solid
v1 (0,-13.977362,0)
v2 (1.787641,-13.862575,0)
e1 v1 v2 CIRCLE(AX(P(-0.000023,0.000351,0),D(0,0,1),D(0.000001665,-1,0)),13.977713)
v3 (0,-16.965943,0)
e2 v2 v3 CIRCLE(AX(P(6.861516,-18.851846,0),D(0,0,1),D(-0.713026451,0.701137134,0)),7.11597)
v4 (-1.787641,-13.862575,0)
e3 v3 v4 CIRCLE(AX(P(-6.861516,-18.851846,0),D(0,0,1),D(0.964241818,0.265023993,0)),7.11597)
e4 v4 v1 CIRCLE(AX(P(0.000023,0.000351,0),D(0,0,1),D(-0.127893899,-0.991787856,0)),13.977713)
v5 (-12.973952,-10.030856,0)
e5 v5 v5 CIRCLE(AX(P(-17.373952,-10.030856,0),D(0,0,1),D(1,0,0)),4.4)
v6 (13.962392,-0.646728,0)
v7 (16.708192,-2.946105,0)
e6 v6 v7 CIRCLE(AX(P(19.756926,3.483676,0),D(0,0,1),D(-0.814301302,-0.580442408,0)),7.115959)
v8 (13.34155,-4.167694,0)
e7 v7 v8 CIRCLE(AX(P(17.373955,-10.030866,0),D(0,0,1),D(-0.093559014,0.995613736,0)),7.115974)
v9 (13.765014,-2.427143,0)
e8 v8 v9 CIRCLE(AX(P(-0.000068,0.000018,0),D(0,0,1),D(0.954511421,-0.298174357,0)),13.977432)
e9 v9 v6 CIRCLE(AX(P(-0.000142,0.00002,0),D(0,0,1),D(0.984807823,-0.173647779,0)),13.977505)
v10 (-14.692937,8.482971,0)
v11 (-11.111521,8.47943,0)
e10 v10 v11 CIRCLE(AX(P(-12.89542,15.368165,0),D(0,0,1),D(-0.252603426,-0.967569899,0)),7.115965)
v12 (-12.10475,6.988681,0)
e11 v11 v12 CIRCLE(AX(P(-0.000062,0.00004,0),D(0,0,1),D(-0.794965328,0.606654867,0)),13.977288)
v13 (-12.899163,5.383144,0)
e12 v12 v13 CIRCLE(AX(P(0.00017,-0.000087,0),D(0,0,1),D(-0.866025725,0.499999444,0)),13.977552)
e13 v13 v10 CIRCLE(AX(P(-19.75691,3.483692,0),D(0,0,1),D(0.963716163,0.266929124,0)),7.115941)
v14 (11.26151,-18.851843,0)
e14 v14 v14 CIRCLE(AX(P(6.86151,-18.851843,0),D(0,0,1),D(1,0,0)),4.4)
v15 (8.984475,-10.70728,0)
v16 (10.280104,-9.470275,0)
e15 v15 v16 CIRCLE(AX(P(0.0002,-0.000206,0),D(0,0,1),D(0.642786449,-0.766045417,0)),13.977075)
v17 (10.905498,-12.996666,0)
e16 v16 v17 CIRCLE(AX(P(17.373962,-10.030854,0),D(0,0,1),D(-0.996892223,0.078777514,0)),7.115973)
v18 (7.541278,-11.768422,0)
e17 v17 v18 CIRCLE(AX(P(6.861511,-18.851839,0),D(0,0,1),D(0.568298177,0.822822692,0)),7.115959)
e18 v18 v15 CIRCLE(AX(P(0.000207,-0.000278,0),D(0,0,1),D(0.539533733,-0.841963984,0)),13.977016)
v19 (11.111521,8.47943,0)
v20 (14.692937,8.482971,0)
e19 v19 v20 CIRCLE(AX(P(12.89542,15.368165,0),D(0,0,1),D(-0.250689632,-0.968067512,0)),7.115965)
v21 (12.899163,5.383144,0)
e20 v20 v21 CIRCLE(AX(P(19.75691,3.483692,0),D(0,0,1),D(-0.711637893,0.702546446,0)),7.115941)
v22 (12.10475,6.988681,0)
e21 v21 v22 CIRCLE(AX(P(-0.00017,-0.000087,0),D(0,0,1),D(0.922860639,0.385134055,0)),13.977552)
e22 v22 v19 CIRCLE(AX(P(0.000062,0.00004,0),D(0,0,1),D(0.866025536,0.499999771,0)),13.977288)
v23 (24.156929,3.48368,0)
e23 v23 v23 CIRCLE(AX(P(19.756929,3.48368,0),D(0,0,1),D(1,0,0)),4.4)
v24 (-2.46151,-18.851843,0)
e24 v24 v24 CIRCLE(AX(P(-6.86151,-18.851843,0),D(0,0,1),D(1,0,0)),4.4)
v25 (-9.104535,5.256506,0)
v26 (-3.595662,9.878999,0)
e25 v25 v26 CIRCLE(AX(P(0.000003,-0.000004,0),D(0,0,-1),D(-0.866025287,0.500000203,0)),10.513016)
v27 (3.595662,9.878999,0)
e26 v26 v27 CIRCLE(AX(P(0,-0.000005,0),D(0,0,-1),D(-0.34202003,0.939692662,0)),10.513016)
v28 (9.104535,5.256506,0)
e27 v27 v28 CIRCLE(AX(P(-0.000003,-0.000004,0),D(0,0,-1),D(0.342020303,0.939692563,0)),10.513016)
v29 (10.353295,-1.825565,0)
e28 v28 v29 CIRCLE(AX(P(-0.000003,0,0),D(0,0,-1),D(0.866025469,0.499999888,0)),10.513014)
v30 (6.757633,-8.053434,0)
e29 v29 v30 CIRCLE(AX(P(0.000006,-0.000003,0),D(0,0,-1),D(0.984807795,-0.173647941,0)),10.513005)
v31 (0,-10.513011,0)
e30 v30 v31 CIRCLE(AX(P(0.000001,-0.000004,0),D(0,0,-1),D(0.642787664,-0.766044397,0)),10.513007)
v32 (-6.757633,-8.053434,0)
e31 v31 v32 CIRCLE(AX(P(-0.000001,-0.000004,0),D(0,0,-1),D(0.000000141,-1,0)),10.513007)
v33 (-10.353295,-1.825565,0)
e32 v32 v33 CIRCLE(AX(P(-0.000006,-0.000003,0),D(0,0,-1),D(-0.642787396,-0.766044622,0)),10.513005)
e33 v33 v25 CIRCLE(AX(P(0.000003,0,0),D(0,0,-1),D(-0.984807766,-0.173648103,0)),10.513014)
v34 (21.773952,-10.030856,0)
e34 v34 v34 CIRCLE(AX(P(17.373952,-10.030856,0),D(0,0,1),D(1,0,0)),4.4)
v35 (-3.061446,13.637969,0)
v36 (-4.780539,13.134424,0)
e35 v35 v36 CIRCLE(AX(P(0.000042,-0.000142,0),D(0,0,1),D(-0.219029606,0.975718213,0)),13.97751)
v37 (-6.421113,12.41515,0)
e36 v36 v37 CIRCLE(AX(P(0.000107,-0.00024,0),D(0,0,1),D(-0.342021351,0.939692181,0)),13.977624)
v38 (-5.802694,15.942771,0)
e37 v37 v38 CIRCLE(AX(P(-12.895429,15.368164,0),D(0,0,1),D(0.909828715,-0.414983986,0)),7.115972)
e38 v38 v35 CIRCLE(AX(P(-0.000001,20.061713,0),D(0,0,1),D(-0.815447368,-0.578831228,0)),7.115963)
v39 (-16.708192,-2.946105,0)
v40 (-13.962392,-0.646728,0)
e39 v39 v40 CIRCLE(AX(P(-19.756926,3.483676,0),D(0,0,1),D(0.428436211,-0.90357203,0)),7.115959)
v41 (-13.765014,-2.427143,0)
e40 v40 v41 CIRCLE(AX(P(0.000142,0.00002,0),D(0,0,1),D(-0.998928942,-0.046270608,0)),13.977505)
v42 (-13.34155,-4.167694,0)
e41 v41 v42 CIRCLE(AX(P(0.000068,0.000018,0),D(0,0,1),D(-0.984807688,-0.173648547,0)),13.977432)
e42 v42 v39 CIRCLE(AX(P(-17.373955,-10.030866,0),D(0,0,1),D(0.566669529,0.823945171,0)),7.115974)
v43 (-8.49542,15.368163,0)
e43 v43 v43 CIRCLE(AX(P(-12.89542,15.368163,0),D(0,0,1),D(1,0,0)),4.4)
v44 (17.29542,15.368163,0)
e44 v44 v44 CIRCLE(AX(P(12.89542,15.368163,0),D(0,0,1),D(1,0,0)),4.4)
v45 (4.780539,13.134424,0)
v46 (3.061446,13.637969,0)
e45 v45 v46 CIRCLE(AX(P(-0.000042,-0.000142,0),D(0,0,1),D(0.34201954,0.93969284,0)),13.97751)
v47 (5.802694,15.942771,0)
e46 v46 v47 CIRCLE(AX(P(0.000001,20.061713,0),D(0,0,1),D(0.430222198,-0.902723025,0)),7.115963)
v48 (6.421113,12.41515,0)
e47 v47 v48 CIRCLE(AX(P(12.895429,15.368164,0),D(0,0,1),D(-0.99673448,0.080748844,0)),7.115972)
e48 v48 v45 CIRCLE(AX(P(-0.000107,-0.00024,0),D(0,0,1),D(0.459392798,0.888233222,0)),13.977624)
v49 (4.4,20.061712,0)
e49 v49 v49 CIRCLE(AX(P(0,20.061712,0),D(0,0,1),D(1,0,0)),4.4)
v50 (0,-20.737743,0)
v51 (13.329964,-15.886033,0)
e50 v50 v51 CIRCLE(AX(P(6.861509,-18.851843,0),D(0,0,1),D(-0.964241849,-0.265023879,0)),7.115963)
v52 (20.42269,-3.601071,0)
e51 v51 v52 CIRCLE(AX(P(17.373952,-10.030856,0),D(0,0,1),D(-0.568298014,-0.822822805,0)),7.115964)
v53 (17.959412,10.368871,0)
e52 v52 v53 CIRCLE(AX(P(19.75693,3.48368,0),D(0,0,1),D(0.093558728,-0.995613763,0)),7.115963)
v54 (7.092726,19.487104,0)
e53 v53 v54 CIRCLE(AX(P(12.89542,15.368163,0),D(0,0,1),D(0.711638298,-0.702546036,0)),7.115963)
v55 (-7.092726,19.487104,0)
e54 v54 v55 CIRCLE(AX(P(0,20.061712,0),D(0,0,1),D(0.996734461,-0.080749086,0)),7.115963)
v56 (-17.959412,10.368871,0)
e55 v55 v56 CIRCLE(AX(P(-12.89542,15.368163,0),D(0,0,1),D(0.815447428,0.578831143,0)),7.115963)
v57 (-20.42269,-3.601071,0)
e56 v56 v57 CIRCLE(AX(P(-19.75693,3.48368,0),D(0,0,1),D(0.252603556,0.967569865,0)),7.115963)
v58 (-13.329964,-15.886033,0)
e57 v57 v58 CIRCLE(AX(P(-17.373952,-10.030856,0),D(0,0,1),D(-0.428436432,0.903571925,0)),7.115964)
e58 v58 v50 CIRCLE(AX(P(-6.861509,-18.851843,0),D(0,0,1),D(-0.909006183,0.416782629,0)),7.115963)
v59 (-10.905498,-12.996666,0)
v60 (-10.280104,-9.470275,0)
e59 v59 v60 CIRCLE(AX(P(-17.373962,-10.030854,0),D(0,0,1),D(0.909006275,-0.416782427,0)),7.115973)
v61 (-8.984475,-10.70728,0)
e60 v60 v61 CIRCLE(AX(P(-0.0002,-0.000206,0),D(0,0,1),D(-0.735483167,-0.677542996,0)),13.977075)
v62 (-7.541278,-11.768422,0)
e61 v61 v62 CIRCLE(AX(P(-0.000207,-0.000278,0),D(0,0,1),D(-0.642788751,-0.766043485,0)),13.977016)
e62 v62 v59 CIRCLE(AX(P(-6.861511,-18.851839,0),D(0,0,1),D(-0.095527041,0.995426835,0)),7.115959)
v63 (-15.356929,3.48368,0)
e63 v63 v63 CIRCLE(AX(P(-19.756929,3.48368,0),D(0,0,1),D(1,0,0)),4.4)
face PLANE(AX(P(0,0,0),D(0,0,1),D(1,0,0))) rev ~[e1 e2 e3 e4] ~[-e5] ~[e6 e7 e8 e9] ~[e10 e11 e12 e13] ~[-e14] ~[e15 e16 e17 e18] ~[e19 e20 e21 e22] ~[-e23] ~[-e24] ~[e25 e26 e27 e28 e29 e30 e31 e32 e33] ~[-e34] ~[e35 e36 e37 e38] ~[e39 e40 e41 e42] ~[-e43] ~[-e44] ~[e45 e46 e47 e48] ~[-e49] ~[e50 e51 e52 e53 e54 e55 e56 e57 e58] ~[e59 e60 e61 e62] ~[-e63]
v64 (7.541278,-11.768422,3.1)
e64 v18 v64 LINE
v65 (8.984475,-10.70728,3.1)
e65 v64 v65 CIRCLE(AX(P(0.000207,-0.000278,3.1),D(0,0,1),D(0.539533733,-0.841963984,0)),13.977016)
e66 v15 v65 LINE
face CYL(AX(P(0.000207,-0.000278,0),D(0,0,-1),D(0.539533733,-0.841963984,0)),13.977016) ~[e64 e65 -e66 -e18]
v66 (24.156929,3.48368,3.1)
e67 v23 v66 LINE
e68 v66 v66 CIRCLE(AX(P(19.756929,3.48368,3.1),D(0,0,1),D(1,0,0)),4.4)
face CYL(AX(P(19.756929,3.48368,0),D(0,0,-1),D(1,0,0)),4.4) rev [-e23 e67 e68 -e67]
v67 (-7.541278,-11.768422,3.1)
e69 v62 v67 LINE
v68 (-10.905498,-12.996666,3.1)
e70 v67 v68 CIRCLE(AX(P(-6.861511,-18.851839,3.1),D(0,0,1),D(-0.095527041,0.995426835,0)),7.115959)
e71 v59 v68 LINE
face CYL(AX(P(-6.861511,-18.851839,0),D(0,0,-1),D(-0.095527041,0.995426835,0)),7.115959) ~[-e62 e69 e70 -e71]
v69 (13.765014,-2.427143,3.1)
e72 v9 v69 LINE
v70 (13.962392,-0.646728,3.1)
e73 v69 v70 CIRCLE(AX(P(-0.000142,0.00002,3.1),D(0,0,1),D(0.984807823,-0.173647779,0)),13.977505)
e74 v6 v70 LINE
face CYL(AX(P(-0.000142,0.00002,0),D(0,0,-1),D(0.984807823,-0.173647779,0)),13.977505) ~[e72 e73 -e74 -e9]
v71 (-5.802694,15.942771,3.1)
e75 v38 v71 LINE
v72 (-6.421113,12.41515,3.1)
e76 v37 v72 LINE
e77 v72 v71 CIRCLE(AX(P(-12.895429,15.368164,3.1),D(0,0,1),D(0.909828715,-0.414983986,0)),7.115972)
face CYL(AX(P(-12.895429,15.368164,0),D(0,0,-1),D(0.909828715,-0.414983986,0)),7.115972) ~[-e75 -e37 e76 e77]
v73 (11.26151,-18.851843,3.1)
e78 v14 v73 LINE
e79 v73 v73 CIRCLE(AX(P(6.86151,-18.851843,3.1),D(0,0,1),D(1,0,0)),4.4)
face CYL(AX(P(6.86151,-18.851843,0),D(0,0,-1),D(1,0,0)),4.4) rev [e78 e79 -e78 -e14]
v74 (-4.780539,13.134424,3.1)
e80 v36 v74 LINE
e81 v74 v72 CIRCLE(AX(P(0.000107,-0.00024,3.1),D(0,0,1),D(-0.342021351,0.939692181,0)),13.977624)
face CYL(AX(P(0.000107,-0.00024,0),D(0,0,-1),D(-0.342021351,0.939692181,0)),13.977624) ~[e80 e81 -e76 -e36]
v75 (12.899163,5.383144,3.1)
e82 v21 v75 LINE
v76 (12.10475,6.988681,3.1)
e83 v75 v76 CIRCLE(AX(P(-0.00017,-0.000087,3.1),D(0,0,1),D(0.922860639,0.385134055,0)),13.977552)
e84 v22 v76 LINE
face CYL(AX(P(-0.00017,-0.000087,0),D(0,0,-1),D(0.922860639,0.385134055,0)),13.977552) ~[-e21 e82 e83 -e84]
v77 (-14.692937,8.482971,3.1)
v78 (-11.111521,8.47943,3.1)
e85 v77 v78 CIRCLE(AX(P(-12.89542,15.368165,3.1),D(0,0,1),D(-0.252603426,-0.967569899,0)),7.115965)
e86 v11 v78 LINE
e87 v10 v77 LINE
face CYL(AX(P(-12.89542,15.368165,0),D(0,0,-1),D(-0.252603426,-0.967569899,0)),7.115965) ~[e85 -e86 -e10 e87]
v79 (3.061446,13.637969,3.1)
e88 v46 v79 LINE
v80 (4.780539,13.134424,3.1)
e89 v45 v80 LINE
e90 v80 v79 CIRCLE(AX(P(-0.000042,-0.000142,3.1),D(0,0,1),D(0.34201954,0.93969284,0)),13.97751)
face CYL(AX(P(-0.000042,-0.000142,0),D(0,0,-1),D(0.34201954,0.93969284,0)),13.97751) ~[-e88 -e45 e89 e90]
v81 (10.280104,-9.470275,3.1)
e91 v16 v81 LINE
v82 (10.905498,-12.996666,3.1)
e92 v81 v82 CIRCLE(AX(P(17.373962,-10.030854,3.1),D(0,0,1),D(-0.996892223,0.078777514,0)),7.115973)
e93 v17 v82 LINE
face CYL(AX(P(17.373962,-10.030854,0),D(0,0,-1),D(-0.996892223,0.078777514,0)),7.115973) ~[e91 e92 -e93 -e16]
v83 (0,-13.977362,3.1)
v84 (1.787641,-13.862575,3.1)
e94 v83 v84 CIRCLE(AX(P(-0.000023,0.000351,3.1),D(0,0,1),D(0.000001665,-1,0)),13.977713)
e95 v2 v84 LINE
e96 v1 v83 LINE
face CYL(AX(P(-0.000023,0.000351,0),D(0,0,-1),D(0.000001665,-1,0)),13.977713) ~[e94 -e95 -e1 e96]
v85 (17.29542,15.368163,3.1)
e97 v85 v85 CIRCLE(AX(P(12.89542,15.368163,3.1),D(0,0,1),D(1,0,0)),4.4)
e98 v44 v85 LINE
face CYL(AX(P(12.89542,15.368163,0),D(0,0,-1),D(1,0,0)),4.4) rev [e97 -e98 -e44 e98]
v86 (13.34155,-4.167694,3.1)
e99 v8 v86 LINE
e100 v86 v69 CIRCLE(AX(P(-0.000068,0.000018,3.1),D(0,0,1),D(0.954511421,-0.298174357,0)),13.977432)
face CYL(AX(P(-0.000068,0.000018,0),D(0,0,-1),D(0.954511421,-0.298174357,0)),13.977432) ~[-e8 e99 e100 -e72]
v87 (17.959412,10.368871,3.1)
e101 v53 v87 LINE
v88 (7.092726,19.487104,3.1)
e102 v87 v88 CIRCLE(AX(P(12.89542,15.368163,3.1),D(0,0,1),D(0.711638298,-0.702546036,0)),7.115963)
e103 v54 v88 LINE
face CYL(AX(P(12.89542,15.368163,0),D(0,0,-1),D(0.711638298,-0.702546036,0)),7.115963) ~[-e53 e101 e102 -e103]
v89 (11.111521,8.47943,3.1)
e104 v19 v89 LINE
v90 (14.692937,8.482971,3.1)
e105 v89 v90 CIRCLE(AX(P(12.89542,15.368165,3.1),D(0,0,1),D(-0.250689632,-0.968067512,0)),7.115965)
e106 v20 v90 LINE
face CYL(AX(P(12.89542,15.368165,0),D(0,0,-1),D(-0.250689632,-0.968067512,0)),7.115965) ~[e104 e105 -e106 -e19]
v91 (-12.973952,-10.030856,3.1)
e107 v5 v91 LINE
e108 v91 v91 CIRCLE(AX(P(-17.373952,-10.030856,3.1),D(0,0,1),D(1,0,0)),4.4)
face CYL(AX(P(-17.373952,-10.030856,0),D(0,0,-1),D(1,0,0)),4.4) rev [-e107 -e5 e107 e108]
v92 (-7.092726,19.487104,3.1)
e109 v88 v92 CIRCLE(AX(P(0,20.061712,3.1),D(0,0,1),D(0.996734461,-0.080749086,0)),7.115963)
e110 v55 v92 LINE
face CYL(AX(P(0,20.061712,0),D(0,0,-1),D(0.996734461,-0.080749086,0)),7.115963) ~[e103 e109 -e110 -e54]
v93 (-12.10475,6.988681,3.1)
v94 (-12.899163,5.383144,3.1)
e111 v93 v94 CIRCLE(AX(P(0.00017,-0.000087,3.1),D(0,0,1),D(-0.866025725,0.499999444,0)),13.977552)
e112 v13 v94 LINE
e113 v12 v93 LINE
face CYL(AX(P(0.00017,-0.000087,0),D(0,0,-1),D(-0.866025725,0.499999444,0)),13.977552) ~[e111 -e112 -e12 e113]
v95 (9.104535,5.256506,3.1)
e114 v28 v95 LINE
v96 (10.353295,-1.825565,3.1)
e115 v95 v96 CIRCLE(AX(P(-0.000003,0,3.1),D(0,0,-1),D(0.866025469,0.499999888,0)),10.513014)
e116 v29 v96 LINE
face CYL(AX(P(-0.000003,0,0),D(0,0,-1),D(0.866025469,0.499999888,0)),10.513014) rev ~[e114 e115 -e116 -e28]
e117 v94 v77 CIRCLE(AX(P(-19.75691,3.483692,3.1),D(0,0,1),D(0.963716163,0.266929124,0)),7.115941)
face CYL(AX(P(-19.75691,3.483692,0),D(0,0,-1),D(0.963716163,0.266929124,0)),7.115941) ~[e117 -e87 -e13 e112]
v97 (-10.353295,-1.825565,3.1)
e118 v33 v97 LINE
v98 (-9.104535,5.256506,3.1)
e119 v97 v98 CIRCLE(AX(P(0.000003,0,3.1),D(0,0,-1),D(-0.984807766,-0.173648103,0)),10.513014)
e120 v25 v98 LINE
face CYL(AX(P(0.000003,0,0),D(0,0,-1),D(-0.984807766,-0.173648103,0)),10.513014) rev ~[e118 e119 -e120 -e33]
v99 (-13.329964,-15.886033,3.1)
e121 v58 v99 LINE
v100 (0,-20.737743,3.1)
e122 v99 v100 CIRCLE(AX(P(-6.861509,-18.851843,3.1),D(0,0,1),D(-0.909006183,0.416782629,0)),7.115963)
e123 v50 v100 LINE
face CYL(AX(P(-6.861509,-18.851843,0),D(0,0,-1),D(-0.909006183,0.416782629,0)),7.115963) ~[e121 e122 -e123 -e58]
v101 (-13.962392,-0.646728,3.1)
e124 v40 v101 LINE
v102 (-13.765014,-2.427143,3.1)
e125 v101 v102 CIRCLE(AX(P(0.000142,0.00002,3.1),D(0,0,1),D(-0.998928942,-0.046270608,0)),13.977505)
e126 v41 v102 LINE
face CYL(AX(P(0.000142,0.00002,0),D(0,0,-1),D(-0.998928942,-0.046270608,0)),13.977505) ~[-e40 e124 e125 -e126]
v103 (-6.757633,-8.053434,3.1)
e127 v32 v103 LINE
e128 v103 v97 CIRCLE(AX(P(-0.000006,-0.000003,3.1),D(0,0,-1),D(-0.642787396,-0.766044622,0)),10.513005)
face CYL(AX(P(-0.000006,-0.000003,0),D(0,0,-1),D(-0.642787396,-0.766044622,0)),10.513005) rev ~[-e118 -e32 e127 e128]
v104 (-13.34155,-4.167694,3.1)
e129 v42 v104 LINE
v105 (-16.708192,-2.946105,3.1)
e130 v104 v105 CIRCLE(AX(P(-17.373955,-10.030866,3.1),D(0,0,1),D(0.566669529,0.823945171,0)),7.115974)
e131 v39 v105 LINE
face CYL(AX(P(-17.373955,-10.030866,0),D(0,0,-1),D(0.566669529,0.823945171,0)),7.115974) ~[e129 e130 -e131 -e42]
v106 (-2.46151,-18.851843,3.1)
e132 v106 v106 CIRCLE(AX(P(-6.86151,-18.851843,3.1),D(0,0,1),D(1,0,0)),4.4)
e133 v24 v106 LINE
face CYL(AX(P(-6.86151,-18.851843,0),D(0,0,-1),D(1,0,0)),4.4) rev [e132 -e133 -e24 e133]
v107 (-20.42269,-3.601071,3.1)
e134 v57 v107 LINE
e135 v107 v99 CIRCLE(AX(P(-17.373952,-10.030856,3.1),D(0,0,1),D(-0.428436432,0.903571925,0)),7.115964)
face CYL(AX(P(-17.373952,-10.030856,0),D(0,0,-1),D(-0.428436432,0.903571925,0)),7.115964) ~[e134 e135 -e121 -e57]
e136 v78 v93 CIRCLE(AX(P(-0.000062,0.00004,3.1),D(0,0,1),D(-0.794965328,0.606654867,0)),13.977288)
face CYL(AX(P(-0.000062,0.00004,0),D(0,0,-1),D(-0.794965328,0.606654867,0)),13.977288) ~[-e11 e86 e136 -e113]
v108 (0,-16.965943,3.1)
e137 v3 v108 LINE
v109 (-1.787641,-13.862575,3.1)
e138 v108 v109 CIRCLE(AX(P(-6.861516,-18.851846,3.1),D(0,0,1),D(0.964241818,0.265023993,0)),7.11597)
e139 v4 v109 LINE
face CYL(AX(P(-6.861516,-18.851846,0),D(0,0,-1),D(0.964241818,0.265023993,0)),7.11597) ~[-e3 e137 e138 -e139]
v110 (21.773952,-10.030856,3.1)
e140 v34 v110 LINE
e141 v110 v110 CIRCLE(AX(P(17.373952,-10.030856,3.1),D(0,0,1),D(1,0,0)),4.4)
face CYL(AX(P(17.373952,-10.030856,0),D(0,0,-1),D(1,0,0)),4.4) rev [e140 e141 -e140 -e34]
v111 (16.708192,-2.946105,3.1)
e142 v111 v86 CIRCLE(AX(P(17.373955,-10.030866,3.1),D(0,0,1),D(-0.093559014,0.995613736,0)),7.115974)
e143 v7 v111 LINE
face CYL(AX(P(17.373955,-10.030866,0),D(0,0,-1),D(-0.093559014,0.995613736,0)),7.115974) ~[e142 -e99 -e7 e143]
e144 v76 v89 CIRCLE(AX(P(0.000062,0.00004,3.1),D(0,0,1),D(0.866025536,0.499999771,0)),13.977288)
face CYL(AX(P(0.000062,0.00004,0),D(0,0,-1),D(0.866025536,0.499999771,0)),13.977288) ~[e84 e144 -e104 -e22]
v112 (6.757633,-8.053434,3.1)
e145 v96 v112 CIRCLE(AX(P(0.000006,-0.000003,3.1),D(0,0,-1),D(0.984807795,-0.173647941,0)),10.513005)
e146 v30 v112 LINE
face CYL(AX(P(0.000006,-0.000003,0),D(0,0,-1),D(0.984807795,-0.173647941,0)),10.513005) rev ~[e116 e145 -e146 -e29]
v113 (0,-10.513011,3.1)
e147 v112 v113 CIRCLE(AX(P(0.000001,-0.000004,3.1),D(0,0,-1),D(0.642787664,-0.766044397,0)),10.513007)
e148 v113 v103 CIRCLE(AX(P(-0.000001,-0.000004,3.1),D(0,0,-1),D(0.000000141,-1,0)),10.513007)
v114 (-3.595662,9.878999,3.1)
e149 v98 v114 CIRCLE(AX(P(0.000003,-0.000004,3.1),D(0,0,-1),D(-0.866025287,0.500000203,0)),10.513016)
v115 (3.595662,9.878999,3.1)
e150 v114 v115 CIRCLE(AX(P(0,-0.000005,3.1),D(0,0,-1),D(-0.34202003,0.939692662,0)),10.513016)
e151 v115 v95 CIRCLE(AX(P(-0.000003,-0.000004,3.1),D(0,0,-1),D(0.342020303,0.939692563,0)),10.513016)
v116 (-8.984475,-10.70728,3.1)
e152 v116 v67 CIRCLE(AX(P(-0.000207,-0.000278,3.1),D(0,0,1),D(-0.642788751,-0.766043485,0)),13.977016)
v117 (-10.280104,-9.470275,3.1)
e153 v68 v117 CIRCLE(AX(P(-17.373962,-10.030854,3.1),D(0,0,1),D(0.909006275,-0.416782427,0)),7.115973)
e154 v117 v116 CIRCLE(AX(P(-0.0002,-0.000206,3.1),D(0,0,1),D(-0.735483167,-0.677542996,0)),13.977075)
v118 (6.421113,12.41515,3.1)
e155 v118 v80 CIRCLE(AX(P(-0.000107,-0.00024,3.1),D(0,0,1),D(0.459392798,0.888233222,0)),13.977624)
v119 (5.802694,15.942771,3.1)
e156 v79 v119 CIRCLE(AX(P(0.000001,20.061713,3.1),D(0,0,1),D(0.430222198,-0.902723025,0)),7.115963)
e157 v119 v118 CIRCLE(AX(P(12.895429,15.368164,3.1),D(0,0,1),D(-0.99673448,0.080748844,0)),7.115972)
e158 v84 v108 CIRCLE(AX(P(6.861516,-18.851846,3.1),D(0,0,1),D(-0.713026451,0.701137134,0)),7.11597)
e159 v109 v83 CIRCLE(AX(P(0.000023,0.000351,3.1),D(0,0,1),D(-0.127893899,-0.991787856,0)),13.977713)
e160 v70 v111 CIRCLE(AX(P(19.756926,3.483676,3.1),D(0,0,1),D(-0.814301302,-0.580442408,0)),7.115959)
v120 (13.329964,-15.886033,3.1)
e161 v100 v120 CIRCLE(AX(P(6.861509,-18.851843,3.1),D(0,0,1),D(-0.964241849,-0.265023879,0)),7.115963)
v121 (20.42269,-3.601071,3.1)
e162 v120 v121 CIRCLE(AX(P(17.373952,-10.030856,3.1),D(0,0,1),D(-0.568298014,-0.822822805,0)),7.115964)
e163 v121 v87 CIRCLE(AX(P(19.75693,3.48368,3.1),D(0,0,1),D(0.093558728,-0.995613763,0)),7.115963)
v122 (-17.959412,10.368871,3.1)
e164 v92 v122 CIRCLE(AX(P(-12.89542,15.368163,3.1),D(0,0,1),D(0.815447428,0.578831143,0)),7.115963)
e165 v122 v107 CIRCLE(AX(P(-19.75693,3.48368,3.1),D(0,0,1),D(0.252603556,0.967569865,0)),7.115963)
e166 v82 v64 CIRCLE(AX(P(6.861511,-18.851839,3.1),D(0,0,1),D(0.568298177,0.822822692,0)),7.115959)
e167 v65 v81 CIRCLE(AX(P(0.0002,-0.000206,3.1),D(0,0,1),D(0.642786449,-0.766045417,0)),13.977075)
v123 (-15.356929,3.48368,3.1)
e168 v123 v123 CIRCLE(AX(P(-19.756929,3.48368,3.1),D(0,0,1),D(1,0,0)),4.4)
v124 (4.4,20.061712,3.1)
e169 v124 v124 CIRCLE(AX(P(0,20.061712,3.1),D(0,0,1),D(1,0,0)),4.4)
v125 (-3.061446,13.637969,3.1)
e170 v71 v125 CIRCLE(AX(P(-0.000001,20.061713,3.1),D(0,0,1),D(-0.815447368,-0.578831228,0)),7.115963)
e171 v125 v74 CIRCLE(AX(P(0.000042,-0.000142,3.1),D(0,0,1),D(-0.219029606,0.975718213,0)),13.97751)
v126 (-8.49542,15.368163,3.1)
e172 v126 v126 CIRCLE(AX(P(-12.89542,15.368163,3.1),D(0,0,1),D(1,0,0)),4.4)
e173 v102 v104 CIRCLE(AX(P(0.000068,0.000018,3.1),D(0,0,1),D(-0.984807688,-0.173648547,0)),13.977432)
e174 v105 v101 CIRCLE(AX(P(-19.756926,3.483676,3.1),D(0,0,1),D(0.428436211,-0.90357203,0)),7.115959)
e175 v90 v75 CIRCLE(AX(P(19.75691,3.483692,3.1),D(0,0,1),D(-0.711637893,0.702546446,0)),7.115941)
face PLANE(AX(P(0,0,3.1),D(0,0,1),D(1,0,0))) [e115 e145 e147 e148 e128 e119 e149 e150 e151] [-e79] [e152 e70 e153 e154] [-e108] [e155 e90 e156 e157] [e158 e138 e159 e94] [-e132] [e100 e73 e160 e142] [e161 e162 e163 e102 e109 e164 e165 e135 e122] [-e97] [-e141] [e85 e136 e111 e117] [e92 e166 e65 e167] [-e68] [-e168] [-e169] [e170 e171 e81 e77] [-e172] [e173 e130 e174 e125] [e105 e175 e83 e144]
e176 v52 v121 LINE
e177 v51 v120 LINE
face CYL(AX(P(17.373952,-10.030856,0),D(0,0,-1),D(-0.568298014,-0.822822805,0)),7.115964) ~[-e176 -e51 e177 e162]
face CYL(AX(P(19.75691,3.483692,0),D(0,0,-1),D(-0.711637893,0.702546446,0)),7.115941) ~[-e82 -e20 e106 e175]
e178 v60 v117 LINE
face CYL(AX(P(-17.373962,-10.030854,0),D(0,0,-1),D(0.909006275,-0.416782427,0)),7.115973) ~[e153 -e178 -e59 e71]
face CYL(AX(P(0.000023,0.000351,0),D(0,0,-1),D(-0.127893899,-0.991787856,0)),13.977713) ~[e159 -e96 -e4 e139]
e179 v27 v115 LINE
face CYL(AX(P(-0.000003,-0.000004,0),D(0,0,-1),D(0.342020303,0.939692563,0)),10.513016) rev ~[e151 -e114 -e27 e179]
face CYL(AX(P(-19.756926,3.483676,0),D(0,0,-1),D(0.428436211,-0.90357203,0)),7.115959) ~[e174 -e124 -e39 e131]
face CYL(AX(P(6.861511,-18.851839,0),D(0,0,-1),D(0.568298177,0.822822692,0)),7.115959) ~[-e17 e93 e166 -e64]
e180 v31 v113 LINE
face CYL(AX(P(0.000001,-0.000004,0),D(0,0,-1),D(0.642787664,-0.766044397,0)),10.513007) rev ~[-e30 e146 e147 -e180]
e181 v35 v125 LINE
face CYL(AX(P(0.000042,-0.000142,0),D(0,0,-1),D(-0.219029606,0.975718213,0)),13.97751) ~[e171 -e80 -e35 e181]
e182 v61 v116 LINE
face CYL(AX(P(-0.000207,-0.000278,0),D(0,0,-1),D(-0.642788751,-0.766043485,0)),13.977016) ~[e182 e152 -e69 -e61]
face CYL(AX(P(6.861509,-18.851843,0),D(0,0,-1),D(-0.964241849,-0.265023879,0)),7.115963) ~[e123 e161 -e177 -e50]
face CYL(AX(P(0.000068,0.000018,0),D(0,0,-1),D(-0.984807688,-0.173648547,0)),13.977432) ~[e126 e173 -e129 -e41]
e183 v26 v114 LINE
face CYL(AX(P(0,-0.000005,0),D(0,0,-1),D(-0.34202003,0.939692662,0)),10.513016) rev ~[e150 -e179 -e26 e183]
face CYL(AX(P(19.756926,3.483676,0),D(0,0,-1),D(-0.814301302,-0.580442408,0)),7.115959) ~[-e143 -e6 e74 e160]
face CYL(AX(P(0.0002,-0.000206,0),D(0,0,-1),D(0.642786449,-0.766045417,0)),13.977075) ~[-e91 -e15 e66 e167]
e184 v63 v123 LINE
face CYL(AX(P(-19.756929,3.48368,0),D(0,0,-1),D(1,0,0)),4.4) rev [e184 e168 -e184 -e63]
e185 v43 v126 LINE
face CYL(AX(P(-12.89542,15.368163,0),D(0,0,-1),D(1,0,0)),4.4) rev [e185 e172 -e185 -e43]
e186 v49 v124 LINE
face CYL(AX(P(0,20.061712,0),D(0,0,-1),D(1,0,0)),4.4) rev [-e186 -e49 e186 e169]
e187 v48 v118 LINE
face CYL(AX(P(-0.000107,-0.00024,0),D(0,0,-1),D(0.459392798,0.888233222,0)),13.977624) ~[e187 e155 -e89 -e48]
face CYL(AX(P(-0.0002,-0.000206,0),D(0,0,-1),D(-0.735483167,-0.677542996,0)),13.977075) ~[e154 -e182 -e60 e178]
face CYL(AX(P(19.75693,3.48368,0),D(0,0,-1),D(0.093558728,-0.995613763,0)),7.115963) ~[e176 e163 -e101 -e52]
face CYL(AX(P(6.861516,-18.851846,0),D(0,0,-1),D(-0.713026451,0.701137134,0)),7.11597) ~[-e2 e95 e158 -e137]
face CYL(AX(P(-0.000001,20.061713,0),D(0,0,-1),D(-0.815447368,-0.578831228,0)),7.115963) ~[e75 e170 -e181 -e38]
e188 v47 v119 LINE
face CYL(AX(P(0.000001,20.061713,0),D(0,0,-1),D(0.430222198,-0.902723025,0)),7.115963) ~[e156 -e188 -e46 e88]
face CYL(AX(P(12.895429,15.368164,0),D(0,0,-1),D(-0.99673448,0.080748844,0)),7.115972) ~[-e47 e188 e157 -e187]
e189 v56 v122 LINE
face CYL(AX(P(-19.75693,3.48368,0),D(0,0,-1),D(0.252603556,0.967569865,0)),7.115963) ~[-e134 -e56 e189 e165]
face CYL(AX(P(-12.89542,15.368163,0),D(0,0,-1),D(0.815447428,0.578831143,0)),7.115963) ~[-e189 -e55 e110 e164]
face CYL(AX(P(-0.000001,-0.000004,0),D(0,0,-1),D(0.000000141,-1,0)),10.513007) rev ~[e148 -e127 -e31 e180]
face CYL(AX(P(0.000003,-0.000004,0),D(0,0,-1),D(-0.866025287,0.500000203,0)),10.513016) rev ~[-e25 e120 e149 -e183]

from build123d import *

# Parameters (mm, degrees)
F0_R     = 4.4
F1_DEPTH = 3.1


with BuildPart() as f1:
    # F0 (on Top) → F1 (new body)
    with BuildSketch(Plane.XY):
        with BuildLine():
            ThreePointArc((20.42269, -3.601071), (26.764785, 4.719354), (17.959412, 10.368871))
            ThreePointArc((17.959412, 10.368871), (17.469473, 20.819307), (7.092726, 19.487104))
            ThreePointArc((7.092726, 19.487104), (0, 27.177675), (-7.092726, 19.487104))
            ThreePointArc((-7.092726, 19.487104), (-17.469473, 20.819307), (-17.959412, 10.368871))
            ThreePointArc((-17.959412, 10.368871), (-26.764785, 4.719354), (-20.42269, -3.601071))
            ThreePointArc((-20.42269, -3.601071), (-23.536557, -13.588838), (-13.329964, -15.886033))
            ThreePointArc((-13.329964, -15.886033), (-9.295312, -25.538661), (0, -20.737743))
            ThreePointArc((0, -20.737743), (9.295312, -25.538661), (13.329964, -15.886033))
            ThreePointArc((13.329964, -15.886033), (23.536557, -13.588838), (20.42269, -3.601071))
        make_face()
        with Locations((-6.86151, -18.851843)):
            Circle(F0_R, mode=Mode.SUBTRACT)
        with BuildLine():
            ThreePointArc((0, -16.965943), (-0.69539, -15.299956), (-1.787641, -13.862575))
            ThreePointArc((-1.787641, -13.862575), (-0.895661, -13.948635), (0, -13.977362))
            ThreePointArc((0, -13.977362), (0.895661, -13.948635), (1.787641, -13.862575))
            ThreePointArc((1.787641, -13.862575), (0.69539, -15.299956), (0, -16.965943))
        make_face(mode=Mode.SUBTRACT)
        with Locations((-17.373952, -10.030856)):
            Circle(F0_R, mode=Mode.SUBTRACT)
        with BuildLine():
            ThreePointArc((-16.708192, -2.946105), (-15.188268, -1.971984), (-13.962392, -0.646728))
            ThreePointArc((-13.962392, -0.646728), (-13.892254, -1.540101), (-13.765014, -2.427143))
            ThreePointArc((-13.765014, -2.427143), (-13.581194, -3.304209), (-13.34155, -4.167694))
            ThreePointArc((-13.34155, -4.167694), (-14.946762, -3.341635), (-16.708192, -2.946105))
        make_face(mode=Mode.SUBTRACT)
        with BuildLine():
            ThreePointArc((-10.905498, -12.996666), (-10.367322, -11.273458), (-10.280104, -9.470275))
            ThreePointArc((-10.280104, -9.470275), (-9.652127, -10.109555), (-8.984475, -10.70728))
            ThreePointArc((-8.984475, -10.70728), (-8.279894, -11.260995), (-7.541278, -11.768422))
            ThreePointArc((-7.541278, -11.768422), (-9.301923, -12.167434), (-10.905498, -12.996666))
        make_face(mode=Mode.SUBTRACT)
        with BuildLine():
            ThreePointArc((-3.595662, 9.878999), (0, 10.513011), (3.595662, 9.878999))
            ThreePointArc((3.595662, 9.878999), (6.757633, 8.053434), (9.104535, 5.256506))
            ThreePointArc((9.104535, 5.256506), (10.353295, 1.825565), (10.353295, -1.825565))
            ThreePointArc((10.353295, -1.825565), (9.104535, -5.256506), (6.757633, -8.053434))
            ThreePointArc((6.757633, -8.053434), (3.595662, -9.878999), (0, -10.513011))
            ThreePointArc((0, -10.513011), (-3.595662, -9.878999), (-6.757633, -8.053434))
            ThreePointArc((-6.757633, -8.053434), (-9.104535, -5.256506), (-10.353295, -1.825565))
            ThreePointArc((-10.353295, -1.825565), (-10.353295, 1.825565), (-9.104535, 5.256506))
            ThreePointArc((-9.104535, 5.256506), (-6.757633, 8.053434), (-3.595662, 9.878999))
        make_face(mode=Mode.SUBTRACT)
        with Locations((6.86151, -18.851843)):
            Circle(F0_R, mode=Mode.SUBTRACT)
        with BuildLine():
            ThreePointArc((10.905498, -12.996666), (9.301923, -12.167434), (7.541278, -11.768422))
            ThreePointArc((7.541278, -11.768422), (8.279894, -11.260995), (8.984475, -10.70728))
            ThreePointArc((8.984475, -10.70728), (9.652127, -10.109555), (10.280104, -9.470275))
            ThreePointArc((10.280104, -9.470275), (10.367322, -11.273458), (10.905498, -12.996666))
        make_face(mode=Mode.SUBTRACT)
        with Locations((17.373952, -10.030856)):
            Circle(F0_R, mode=Mode.SUBTRACT)
        with BuildLine():
            ThreePointArc((16.708192, -2.946105), (14.946762, -3.341635), (13.34155, -4.167694))
            ThreePointArc((13.34155, -4.167694), (13.581194, -3.304209), (13.765014, -2.427143))
            ThreePointArc((13.765014, -2.427143), (13.892254, -1.540101), (13.962392, -0.646728))
            ThreePointArc((13.962392, -0.646728), (15.188268, -1.971984), (16.708192, -2.946105))
        make_face(mode=Mode.SUBTRACT)
        with Locations((-19.756929, 3.48368)):
            Circle(F0_R, mode=Mode.SUBTRACT)
        with BuildLine():
            ThreePointArc((-14.692937, 8.482971), (-12.902456, 8.252203), (-11.111521, 8.47943))
            ThreePointArc((-11.111521, 8.47943), (-11.632042, 7.749983), (-12.10475, 6.988681))
            ThreePointArc((-12.10475, 6.988681), (-12.527703, 6.198652), (-12.899163, 5.383144))
            ThreePointArc((-12.899163, 5.383144), (-13.597845, 7.047753), (-14.692937, 8.482971))
        make_face(mode=Mode.SUBTRACT)
        with Locations((-12.89542, 15.368163)):
            Circle(F0_R, mode=Mode.SUBTRACT)
        with BuildLine():
            ThreePointArc((-5.802694, 15.942771), (-4.57944, 14.615093), (-3.061446, 13.637969))
            ThreePointArc((-3.061446, 13.637969), (-3.929068, 13.413764), (-4.780539, 13.134424))
            ThreePointArc((-4.780539, 13.134424), (-5.612361, 12.801095), (-6.421113, 12.41515))
            ThreePointArc((-6.421113, 12.41515), (-5.886346, 14.139418), (-5.802694, 15.942771))
        make_face(mode=Mode.SUBTRACT)
        with Locations((0, 20.061712)):
            Circle(F0_R, mode=Mode.SUBTRACT)
        with BuildLine():
            ThreePointArc((14.692937, 8.482971), (13.597845, 7.047753), (12.899163, 5.383144))
            ThreePointArc((12.899163, 5.383144), (12.527703, 6.198652), (12.10475, 6.988681))
            ThreePointArc((12.10475, 6.988681), (11.632042, 7.749983), (11.111521, 8.47943))
            ThreePointArc((11.111521, 8.47943), (12.902456, 8.252203), (14.692937, 8.482971))
        make_face(mode=Mode.SUBTRACT)
        with Locations((19.756929, 3.48368)):
            Circle(F0_R, mode=Mode.SUBTRACT)
        with BuildLine():
            ThreePointArc((4.780539, 13.134424), (3.929068, 13.413764), (3.061446, 13.637969))
            ThreePointArc((3.061446, 13.637969), (4.57944, 14.615093), (5.802694, 15.942771))
            ThreePointArc((5.802694, 15.942771), (5.886346, 14.139418), (6.421113, 12.41515))
            ThreePointArc((6.421113, 12.41515), (5.612361, 12.801095), (4.780539, 13.134424))
        make_face(mode=Mode.SUBTRACT)
        with Locations((12.89542, 15.368163)):
            Circle(F0_R, mode=Mode.SUBTRACT)
    extrude(amount=F1_DEPTH)


solid = f1.part
